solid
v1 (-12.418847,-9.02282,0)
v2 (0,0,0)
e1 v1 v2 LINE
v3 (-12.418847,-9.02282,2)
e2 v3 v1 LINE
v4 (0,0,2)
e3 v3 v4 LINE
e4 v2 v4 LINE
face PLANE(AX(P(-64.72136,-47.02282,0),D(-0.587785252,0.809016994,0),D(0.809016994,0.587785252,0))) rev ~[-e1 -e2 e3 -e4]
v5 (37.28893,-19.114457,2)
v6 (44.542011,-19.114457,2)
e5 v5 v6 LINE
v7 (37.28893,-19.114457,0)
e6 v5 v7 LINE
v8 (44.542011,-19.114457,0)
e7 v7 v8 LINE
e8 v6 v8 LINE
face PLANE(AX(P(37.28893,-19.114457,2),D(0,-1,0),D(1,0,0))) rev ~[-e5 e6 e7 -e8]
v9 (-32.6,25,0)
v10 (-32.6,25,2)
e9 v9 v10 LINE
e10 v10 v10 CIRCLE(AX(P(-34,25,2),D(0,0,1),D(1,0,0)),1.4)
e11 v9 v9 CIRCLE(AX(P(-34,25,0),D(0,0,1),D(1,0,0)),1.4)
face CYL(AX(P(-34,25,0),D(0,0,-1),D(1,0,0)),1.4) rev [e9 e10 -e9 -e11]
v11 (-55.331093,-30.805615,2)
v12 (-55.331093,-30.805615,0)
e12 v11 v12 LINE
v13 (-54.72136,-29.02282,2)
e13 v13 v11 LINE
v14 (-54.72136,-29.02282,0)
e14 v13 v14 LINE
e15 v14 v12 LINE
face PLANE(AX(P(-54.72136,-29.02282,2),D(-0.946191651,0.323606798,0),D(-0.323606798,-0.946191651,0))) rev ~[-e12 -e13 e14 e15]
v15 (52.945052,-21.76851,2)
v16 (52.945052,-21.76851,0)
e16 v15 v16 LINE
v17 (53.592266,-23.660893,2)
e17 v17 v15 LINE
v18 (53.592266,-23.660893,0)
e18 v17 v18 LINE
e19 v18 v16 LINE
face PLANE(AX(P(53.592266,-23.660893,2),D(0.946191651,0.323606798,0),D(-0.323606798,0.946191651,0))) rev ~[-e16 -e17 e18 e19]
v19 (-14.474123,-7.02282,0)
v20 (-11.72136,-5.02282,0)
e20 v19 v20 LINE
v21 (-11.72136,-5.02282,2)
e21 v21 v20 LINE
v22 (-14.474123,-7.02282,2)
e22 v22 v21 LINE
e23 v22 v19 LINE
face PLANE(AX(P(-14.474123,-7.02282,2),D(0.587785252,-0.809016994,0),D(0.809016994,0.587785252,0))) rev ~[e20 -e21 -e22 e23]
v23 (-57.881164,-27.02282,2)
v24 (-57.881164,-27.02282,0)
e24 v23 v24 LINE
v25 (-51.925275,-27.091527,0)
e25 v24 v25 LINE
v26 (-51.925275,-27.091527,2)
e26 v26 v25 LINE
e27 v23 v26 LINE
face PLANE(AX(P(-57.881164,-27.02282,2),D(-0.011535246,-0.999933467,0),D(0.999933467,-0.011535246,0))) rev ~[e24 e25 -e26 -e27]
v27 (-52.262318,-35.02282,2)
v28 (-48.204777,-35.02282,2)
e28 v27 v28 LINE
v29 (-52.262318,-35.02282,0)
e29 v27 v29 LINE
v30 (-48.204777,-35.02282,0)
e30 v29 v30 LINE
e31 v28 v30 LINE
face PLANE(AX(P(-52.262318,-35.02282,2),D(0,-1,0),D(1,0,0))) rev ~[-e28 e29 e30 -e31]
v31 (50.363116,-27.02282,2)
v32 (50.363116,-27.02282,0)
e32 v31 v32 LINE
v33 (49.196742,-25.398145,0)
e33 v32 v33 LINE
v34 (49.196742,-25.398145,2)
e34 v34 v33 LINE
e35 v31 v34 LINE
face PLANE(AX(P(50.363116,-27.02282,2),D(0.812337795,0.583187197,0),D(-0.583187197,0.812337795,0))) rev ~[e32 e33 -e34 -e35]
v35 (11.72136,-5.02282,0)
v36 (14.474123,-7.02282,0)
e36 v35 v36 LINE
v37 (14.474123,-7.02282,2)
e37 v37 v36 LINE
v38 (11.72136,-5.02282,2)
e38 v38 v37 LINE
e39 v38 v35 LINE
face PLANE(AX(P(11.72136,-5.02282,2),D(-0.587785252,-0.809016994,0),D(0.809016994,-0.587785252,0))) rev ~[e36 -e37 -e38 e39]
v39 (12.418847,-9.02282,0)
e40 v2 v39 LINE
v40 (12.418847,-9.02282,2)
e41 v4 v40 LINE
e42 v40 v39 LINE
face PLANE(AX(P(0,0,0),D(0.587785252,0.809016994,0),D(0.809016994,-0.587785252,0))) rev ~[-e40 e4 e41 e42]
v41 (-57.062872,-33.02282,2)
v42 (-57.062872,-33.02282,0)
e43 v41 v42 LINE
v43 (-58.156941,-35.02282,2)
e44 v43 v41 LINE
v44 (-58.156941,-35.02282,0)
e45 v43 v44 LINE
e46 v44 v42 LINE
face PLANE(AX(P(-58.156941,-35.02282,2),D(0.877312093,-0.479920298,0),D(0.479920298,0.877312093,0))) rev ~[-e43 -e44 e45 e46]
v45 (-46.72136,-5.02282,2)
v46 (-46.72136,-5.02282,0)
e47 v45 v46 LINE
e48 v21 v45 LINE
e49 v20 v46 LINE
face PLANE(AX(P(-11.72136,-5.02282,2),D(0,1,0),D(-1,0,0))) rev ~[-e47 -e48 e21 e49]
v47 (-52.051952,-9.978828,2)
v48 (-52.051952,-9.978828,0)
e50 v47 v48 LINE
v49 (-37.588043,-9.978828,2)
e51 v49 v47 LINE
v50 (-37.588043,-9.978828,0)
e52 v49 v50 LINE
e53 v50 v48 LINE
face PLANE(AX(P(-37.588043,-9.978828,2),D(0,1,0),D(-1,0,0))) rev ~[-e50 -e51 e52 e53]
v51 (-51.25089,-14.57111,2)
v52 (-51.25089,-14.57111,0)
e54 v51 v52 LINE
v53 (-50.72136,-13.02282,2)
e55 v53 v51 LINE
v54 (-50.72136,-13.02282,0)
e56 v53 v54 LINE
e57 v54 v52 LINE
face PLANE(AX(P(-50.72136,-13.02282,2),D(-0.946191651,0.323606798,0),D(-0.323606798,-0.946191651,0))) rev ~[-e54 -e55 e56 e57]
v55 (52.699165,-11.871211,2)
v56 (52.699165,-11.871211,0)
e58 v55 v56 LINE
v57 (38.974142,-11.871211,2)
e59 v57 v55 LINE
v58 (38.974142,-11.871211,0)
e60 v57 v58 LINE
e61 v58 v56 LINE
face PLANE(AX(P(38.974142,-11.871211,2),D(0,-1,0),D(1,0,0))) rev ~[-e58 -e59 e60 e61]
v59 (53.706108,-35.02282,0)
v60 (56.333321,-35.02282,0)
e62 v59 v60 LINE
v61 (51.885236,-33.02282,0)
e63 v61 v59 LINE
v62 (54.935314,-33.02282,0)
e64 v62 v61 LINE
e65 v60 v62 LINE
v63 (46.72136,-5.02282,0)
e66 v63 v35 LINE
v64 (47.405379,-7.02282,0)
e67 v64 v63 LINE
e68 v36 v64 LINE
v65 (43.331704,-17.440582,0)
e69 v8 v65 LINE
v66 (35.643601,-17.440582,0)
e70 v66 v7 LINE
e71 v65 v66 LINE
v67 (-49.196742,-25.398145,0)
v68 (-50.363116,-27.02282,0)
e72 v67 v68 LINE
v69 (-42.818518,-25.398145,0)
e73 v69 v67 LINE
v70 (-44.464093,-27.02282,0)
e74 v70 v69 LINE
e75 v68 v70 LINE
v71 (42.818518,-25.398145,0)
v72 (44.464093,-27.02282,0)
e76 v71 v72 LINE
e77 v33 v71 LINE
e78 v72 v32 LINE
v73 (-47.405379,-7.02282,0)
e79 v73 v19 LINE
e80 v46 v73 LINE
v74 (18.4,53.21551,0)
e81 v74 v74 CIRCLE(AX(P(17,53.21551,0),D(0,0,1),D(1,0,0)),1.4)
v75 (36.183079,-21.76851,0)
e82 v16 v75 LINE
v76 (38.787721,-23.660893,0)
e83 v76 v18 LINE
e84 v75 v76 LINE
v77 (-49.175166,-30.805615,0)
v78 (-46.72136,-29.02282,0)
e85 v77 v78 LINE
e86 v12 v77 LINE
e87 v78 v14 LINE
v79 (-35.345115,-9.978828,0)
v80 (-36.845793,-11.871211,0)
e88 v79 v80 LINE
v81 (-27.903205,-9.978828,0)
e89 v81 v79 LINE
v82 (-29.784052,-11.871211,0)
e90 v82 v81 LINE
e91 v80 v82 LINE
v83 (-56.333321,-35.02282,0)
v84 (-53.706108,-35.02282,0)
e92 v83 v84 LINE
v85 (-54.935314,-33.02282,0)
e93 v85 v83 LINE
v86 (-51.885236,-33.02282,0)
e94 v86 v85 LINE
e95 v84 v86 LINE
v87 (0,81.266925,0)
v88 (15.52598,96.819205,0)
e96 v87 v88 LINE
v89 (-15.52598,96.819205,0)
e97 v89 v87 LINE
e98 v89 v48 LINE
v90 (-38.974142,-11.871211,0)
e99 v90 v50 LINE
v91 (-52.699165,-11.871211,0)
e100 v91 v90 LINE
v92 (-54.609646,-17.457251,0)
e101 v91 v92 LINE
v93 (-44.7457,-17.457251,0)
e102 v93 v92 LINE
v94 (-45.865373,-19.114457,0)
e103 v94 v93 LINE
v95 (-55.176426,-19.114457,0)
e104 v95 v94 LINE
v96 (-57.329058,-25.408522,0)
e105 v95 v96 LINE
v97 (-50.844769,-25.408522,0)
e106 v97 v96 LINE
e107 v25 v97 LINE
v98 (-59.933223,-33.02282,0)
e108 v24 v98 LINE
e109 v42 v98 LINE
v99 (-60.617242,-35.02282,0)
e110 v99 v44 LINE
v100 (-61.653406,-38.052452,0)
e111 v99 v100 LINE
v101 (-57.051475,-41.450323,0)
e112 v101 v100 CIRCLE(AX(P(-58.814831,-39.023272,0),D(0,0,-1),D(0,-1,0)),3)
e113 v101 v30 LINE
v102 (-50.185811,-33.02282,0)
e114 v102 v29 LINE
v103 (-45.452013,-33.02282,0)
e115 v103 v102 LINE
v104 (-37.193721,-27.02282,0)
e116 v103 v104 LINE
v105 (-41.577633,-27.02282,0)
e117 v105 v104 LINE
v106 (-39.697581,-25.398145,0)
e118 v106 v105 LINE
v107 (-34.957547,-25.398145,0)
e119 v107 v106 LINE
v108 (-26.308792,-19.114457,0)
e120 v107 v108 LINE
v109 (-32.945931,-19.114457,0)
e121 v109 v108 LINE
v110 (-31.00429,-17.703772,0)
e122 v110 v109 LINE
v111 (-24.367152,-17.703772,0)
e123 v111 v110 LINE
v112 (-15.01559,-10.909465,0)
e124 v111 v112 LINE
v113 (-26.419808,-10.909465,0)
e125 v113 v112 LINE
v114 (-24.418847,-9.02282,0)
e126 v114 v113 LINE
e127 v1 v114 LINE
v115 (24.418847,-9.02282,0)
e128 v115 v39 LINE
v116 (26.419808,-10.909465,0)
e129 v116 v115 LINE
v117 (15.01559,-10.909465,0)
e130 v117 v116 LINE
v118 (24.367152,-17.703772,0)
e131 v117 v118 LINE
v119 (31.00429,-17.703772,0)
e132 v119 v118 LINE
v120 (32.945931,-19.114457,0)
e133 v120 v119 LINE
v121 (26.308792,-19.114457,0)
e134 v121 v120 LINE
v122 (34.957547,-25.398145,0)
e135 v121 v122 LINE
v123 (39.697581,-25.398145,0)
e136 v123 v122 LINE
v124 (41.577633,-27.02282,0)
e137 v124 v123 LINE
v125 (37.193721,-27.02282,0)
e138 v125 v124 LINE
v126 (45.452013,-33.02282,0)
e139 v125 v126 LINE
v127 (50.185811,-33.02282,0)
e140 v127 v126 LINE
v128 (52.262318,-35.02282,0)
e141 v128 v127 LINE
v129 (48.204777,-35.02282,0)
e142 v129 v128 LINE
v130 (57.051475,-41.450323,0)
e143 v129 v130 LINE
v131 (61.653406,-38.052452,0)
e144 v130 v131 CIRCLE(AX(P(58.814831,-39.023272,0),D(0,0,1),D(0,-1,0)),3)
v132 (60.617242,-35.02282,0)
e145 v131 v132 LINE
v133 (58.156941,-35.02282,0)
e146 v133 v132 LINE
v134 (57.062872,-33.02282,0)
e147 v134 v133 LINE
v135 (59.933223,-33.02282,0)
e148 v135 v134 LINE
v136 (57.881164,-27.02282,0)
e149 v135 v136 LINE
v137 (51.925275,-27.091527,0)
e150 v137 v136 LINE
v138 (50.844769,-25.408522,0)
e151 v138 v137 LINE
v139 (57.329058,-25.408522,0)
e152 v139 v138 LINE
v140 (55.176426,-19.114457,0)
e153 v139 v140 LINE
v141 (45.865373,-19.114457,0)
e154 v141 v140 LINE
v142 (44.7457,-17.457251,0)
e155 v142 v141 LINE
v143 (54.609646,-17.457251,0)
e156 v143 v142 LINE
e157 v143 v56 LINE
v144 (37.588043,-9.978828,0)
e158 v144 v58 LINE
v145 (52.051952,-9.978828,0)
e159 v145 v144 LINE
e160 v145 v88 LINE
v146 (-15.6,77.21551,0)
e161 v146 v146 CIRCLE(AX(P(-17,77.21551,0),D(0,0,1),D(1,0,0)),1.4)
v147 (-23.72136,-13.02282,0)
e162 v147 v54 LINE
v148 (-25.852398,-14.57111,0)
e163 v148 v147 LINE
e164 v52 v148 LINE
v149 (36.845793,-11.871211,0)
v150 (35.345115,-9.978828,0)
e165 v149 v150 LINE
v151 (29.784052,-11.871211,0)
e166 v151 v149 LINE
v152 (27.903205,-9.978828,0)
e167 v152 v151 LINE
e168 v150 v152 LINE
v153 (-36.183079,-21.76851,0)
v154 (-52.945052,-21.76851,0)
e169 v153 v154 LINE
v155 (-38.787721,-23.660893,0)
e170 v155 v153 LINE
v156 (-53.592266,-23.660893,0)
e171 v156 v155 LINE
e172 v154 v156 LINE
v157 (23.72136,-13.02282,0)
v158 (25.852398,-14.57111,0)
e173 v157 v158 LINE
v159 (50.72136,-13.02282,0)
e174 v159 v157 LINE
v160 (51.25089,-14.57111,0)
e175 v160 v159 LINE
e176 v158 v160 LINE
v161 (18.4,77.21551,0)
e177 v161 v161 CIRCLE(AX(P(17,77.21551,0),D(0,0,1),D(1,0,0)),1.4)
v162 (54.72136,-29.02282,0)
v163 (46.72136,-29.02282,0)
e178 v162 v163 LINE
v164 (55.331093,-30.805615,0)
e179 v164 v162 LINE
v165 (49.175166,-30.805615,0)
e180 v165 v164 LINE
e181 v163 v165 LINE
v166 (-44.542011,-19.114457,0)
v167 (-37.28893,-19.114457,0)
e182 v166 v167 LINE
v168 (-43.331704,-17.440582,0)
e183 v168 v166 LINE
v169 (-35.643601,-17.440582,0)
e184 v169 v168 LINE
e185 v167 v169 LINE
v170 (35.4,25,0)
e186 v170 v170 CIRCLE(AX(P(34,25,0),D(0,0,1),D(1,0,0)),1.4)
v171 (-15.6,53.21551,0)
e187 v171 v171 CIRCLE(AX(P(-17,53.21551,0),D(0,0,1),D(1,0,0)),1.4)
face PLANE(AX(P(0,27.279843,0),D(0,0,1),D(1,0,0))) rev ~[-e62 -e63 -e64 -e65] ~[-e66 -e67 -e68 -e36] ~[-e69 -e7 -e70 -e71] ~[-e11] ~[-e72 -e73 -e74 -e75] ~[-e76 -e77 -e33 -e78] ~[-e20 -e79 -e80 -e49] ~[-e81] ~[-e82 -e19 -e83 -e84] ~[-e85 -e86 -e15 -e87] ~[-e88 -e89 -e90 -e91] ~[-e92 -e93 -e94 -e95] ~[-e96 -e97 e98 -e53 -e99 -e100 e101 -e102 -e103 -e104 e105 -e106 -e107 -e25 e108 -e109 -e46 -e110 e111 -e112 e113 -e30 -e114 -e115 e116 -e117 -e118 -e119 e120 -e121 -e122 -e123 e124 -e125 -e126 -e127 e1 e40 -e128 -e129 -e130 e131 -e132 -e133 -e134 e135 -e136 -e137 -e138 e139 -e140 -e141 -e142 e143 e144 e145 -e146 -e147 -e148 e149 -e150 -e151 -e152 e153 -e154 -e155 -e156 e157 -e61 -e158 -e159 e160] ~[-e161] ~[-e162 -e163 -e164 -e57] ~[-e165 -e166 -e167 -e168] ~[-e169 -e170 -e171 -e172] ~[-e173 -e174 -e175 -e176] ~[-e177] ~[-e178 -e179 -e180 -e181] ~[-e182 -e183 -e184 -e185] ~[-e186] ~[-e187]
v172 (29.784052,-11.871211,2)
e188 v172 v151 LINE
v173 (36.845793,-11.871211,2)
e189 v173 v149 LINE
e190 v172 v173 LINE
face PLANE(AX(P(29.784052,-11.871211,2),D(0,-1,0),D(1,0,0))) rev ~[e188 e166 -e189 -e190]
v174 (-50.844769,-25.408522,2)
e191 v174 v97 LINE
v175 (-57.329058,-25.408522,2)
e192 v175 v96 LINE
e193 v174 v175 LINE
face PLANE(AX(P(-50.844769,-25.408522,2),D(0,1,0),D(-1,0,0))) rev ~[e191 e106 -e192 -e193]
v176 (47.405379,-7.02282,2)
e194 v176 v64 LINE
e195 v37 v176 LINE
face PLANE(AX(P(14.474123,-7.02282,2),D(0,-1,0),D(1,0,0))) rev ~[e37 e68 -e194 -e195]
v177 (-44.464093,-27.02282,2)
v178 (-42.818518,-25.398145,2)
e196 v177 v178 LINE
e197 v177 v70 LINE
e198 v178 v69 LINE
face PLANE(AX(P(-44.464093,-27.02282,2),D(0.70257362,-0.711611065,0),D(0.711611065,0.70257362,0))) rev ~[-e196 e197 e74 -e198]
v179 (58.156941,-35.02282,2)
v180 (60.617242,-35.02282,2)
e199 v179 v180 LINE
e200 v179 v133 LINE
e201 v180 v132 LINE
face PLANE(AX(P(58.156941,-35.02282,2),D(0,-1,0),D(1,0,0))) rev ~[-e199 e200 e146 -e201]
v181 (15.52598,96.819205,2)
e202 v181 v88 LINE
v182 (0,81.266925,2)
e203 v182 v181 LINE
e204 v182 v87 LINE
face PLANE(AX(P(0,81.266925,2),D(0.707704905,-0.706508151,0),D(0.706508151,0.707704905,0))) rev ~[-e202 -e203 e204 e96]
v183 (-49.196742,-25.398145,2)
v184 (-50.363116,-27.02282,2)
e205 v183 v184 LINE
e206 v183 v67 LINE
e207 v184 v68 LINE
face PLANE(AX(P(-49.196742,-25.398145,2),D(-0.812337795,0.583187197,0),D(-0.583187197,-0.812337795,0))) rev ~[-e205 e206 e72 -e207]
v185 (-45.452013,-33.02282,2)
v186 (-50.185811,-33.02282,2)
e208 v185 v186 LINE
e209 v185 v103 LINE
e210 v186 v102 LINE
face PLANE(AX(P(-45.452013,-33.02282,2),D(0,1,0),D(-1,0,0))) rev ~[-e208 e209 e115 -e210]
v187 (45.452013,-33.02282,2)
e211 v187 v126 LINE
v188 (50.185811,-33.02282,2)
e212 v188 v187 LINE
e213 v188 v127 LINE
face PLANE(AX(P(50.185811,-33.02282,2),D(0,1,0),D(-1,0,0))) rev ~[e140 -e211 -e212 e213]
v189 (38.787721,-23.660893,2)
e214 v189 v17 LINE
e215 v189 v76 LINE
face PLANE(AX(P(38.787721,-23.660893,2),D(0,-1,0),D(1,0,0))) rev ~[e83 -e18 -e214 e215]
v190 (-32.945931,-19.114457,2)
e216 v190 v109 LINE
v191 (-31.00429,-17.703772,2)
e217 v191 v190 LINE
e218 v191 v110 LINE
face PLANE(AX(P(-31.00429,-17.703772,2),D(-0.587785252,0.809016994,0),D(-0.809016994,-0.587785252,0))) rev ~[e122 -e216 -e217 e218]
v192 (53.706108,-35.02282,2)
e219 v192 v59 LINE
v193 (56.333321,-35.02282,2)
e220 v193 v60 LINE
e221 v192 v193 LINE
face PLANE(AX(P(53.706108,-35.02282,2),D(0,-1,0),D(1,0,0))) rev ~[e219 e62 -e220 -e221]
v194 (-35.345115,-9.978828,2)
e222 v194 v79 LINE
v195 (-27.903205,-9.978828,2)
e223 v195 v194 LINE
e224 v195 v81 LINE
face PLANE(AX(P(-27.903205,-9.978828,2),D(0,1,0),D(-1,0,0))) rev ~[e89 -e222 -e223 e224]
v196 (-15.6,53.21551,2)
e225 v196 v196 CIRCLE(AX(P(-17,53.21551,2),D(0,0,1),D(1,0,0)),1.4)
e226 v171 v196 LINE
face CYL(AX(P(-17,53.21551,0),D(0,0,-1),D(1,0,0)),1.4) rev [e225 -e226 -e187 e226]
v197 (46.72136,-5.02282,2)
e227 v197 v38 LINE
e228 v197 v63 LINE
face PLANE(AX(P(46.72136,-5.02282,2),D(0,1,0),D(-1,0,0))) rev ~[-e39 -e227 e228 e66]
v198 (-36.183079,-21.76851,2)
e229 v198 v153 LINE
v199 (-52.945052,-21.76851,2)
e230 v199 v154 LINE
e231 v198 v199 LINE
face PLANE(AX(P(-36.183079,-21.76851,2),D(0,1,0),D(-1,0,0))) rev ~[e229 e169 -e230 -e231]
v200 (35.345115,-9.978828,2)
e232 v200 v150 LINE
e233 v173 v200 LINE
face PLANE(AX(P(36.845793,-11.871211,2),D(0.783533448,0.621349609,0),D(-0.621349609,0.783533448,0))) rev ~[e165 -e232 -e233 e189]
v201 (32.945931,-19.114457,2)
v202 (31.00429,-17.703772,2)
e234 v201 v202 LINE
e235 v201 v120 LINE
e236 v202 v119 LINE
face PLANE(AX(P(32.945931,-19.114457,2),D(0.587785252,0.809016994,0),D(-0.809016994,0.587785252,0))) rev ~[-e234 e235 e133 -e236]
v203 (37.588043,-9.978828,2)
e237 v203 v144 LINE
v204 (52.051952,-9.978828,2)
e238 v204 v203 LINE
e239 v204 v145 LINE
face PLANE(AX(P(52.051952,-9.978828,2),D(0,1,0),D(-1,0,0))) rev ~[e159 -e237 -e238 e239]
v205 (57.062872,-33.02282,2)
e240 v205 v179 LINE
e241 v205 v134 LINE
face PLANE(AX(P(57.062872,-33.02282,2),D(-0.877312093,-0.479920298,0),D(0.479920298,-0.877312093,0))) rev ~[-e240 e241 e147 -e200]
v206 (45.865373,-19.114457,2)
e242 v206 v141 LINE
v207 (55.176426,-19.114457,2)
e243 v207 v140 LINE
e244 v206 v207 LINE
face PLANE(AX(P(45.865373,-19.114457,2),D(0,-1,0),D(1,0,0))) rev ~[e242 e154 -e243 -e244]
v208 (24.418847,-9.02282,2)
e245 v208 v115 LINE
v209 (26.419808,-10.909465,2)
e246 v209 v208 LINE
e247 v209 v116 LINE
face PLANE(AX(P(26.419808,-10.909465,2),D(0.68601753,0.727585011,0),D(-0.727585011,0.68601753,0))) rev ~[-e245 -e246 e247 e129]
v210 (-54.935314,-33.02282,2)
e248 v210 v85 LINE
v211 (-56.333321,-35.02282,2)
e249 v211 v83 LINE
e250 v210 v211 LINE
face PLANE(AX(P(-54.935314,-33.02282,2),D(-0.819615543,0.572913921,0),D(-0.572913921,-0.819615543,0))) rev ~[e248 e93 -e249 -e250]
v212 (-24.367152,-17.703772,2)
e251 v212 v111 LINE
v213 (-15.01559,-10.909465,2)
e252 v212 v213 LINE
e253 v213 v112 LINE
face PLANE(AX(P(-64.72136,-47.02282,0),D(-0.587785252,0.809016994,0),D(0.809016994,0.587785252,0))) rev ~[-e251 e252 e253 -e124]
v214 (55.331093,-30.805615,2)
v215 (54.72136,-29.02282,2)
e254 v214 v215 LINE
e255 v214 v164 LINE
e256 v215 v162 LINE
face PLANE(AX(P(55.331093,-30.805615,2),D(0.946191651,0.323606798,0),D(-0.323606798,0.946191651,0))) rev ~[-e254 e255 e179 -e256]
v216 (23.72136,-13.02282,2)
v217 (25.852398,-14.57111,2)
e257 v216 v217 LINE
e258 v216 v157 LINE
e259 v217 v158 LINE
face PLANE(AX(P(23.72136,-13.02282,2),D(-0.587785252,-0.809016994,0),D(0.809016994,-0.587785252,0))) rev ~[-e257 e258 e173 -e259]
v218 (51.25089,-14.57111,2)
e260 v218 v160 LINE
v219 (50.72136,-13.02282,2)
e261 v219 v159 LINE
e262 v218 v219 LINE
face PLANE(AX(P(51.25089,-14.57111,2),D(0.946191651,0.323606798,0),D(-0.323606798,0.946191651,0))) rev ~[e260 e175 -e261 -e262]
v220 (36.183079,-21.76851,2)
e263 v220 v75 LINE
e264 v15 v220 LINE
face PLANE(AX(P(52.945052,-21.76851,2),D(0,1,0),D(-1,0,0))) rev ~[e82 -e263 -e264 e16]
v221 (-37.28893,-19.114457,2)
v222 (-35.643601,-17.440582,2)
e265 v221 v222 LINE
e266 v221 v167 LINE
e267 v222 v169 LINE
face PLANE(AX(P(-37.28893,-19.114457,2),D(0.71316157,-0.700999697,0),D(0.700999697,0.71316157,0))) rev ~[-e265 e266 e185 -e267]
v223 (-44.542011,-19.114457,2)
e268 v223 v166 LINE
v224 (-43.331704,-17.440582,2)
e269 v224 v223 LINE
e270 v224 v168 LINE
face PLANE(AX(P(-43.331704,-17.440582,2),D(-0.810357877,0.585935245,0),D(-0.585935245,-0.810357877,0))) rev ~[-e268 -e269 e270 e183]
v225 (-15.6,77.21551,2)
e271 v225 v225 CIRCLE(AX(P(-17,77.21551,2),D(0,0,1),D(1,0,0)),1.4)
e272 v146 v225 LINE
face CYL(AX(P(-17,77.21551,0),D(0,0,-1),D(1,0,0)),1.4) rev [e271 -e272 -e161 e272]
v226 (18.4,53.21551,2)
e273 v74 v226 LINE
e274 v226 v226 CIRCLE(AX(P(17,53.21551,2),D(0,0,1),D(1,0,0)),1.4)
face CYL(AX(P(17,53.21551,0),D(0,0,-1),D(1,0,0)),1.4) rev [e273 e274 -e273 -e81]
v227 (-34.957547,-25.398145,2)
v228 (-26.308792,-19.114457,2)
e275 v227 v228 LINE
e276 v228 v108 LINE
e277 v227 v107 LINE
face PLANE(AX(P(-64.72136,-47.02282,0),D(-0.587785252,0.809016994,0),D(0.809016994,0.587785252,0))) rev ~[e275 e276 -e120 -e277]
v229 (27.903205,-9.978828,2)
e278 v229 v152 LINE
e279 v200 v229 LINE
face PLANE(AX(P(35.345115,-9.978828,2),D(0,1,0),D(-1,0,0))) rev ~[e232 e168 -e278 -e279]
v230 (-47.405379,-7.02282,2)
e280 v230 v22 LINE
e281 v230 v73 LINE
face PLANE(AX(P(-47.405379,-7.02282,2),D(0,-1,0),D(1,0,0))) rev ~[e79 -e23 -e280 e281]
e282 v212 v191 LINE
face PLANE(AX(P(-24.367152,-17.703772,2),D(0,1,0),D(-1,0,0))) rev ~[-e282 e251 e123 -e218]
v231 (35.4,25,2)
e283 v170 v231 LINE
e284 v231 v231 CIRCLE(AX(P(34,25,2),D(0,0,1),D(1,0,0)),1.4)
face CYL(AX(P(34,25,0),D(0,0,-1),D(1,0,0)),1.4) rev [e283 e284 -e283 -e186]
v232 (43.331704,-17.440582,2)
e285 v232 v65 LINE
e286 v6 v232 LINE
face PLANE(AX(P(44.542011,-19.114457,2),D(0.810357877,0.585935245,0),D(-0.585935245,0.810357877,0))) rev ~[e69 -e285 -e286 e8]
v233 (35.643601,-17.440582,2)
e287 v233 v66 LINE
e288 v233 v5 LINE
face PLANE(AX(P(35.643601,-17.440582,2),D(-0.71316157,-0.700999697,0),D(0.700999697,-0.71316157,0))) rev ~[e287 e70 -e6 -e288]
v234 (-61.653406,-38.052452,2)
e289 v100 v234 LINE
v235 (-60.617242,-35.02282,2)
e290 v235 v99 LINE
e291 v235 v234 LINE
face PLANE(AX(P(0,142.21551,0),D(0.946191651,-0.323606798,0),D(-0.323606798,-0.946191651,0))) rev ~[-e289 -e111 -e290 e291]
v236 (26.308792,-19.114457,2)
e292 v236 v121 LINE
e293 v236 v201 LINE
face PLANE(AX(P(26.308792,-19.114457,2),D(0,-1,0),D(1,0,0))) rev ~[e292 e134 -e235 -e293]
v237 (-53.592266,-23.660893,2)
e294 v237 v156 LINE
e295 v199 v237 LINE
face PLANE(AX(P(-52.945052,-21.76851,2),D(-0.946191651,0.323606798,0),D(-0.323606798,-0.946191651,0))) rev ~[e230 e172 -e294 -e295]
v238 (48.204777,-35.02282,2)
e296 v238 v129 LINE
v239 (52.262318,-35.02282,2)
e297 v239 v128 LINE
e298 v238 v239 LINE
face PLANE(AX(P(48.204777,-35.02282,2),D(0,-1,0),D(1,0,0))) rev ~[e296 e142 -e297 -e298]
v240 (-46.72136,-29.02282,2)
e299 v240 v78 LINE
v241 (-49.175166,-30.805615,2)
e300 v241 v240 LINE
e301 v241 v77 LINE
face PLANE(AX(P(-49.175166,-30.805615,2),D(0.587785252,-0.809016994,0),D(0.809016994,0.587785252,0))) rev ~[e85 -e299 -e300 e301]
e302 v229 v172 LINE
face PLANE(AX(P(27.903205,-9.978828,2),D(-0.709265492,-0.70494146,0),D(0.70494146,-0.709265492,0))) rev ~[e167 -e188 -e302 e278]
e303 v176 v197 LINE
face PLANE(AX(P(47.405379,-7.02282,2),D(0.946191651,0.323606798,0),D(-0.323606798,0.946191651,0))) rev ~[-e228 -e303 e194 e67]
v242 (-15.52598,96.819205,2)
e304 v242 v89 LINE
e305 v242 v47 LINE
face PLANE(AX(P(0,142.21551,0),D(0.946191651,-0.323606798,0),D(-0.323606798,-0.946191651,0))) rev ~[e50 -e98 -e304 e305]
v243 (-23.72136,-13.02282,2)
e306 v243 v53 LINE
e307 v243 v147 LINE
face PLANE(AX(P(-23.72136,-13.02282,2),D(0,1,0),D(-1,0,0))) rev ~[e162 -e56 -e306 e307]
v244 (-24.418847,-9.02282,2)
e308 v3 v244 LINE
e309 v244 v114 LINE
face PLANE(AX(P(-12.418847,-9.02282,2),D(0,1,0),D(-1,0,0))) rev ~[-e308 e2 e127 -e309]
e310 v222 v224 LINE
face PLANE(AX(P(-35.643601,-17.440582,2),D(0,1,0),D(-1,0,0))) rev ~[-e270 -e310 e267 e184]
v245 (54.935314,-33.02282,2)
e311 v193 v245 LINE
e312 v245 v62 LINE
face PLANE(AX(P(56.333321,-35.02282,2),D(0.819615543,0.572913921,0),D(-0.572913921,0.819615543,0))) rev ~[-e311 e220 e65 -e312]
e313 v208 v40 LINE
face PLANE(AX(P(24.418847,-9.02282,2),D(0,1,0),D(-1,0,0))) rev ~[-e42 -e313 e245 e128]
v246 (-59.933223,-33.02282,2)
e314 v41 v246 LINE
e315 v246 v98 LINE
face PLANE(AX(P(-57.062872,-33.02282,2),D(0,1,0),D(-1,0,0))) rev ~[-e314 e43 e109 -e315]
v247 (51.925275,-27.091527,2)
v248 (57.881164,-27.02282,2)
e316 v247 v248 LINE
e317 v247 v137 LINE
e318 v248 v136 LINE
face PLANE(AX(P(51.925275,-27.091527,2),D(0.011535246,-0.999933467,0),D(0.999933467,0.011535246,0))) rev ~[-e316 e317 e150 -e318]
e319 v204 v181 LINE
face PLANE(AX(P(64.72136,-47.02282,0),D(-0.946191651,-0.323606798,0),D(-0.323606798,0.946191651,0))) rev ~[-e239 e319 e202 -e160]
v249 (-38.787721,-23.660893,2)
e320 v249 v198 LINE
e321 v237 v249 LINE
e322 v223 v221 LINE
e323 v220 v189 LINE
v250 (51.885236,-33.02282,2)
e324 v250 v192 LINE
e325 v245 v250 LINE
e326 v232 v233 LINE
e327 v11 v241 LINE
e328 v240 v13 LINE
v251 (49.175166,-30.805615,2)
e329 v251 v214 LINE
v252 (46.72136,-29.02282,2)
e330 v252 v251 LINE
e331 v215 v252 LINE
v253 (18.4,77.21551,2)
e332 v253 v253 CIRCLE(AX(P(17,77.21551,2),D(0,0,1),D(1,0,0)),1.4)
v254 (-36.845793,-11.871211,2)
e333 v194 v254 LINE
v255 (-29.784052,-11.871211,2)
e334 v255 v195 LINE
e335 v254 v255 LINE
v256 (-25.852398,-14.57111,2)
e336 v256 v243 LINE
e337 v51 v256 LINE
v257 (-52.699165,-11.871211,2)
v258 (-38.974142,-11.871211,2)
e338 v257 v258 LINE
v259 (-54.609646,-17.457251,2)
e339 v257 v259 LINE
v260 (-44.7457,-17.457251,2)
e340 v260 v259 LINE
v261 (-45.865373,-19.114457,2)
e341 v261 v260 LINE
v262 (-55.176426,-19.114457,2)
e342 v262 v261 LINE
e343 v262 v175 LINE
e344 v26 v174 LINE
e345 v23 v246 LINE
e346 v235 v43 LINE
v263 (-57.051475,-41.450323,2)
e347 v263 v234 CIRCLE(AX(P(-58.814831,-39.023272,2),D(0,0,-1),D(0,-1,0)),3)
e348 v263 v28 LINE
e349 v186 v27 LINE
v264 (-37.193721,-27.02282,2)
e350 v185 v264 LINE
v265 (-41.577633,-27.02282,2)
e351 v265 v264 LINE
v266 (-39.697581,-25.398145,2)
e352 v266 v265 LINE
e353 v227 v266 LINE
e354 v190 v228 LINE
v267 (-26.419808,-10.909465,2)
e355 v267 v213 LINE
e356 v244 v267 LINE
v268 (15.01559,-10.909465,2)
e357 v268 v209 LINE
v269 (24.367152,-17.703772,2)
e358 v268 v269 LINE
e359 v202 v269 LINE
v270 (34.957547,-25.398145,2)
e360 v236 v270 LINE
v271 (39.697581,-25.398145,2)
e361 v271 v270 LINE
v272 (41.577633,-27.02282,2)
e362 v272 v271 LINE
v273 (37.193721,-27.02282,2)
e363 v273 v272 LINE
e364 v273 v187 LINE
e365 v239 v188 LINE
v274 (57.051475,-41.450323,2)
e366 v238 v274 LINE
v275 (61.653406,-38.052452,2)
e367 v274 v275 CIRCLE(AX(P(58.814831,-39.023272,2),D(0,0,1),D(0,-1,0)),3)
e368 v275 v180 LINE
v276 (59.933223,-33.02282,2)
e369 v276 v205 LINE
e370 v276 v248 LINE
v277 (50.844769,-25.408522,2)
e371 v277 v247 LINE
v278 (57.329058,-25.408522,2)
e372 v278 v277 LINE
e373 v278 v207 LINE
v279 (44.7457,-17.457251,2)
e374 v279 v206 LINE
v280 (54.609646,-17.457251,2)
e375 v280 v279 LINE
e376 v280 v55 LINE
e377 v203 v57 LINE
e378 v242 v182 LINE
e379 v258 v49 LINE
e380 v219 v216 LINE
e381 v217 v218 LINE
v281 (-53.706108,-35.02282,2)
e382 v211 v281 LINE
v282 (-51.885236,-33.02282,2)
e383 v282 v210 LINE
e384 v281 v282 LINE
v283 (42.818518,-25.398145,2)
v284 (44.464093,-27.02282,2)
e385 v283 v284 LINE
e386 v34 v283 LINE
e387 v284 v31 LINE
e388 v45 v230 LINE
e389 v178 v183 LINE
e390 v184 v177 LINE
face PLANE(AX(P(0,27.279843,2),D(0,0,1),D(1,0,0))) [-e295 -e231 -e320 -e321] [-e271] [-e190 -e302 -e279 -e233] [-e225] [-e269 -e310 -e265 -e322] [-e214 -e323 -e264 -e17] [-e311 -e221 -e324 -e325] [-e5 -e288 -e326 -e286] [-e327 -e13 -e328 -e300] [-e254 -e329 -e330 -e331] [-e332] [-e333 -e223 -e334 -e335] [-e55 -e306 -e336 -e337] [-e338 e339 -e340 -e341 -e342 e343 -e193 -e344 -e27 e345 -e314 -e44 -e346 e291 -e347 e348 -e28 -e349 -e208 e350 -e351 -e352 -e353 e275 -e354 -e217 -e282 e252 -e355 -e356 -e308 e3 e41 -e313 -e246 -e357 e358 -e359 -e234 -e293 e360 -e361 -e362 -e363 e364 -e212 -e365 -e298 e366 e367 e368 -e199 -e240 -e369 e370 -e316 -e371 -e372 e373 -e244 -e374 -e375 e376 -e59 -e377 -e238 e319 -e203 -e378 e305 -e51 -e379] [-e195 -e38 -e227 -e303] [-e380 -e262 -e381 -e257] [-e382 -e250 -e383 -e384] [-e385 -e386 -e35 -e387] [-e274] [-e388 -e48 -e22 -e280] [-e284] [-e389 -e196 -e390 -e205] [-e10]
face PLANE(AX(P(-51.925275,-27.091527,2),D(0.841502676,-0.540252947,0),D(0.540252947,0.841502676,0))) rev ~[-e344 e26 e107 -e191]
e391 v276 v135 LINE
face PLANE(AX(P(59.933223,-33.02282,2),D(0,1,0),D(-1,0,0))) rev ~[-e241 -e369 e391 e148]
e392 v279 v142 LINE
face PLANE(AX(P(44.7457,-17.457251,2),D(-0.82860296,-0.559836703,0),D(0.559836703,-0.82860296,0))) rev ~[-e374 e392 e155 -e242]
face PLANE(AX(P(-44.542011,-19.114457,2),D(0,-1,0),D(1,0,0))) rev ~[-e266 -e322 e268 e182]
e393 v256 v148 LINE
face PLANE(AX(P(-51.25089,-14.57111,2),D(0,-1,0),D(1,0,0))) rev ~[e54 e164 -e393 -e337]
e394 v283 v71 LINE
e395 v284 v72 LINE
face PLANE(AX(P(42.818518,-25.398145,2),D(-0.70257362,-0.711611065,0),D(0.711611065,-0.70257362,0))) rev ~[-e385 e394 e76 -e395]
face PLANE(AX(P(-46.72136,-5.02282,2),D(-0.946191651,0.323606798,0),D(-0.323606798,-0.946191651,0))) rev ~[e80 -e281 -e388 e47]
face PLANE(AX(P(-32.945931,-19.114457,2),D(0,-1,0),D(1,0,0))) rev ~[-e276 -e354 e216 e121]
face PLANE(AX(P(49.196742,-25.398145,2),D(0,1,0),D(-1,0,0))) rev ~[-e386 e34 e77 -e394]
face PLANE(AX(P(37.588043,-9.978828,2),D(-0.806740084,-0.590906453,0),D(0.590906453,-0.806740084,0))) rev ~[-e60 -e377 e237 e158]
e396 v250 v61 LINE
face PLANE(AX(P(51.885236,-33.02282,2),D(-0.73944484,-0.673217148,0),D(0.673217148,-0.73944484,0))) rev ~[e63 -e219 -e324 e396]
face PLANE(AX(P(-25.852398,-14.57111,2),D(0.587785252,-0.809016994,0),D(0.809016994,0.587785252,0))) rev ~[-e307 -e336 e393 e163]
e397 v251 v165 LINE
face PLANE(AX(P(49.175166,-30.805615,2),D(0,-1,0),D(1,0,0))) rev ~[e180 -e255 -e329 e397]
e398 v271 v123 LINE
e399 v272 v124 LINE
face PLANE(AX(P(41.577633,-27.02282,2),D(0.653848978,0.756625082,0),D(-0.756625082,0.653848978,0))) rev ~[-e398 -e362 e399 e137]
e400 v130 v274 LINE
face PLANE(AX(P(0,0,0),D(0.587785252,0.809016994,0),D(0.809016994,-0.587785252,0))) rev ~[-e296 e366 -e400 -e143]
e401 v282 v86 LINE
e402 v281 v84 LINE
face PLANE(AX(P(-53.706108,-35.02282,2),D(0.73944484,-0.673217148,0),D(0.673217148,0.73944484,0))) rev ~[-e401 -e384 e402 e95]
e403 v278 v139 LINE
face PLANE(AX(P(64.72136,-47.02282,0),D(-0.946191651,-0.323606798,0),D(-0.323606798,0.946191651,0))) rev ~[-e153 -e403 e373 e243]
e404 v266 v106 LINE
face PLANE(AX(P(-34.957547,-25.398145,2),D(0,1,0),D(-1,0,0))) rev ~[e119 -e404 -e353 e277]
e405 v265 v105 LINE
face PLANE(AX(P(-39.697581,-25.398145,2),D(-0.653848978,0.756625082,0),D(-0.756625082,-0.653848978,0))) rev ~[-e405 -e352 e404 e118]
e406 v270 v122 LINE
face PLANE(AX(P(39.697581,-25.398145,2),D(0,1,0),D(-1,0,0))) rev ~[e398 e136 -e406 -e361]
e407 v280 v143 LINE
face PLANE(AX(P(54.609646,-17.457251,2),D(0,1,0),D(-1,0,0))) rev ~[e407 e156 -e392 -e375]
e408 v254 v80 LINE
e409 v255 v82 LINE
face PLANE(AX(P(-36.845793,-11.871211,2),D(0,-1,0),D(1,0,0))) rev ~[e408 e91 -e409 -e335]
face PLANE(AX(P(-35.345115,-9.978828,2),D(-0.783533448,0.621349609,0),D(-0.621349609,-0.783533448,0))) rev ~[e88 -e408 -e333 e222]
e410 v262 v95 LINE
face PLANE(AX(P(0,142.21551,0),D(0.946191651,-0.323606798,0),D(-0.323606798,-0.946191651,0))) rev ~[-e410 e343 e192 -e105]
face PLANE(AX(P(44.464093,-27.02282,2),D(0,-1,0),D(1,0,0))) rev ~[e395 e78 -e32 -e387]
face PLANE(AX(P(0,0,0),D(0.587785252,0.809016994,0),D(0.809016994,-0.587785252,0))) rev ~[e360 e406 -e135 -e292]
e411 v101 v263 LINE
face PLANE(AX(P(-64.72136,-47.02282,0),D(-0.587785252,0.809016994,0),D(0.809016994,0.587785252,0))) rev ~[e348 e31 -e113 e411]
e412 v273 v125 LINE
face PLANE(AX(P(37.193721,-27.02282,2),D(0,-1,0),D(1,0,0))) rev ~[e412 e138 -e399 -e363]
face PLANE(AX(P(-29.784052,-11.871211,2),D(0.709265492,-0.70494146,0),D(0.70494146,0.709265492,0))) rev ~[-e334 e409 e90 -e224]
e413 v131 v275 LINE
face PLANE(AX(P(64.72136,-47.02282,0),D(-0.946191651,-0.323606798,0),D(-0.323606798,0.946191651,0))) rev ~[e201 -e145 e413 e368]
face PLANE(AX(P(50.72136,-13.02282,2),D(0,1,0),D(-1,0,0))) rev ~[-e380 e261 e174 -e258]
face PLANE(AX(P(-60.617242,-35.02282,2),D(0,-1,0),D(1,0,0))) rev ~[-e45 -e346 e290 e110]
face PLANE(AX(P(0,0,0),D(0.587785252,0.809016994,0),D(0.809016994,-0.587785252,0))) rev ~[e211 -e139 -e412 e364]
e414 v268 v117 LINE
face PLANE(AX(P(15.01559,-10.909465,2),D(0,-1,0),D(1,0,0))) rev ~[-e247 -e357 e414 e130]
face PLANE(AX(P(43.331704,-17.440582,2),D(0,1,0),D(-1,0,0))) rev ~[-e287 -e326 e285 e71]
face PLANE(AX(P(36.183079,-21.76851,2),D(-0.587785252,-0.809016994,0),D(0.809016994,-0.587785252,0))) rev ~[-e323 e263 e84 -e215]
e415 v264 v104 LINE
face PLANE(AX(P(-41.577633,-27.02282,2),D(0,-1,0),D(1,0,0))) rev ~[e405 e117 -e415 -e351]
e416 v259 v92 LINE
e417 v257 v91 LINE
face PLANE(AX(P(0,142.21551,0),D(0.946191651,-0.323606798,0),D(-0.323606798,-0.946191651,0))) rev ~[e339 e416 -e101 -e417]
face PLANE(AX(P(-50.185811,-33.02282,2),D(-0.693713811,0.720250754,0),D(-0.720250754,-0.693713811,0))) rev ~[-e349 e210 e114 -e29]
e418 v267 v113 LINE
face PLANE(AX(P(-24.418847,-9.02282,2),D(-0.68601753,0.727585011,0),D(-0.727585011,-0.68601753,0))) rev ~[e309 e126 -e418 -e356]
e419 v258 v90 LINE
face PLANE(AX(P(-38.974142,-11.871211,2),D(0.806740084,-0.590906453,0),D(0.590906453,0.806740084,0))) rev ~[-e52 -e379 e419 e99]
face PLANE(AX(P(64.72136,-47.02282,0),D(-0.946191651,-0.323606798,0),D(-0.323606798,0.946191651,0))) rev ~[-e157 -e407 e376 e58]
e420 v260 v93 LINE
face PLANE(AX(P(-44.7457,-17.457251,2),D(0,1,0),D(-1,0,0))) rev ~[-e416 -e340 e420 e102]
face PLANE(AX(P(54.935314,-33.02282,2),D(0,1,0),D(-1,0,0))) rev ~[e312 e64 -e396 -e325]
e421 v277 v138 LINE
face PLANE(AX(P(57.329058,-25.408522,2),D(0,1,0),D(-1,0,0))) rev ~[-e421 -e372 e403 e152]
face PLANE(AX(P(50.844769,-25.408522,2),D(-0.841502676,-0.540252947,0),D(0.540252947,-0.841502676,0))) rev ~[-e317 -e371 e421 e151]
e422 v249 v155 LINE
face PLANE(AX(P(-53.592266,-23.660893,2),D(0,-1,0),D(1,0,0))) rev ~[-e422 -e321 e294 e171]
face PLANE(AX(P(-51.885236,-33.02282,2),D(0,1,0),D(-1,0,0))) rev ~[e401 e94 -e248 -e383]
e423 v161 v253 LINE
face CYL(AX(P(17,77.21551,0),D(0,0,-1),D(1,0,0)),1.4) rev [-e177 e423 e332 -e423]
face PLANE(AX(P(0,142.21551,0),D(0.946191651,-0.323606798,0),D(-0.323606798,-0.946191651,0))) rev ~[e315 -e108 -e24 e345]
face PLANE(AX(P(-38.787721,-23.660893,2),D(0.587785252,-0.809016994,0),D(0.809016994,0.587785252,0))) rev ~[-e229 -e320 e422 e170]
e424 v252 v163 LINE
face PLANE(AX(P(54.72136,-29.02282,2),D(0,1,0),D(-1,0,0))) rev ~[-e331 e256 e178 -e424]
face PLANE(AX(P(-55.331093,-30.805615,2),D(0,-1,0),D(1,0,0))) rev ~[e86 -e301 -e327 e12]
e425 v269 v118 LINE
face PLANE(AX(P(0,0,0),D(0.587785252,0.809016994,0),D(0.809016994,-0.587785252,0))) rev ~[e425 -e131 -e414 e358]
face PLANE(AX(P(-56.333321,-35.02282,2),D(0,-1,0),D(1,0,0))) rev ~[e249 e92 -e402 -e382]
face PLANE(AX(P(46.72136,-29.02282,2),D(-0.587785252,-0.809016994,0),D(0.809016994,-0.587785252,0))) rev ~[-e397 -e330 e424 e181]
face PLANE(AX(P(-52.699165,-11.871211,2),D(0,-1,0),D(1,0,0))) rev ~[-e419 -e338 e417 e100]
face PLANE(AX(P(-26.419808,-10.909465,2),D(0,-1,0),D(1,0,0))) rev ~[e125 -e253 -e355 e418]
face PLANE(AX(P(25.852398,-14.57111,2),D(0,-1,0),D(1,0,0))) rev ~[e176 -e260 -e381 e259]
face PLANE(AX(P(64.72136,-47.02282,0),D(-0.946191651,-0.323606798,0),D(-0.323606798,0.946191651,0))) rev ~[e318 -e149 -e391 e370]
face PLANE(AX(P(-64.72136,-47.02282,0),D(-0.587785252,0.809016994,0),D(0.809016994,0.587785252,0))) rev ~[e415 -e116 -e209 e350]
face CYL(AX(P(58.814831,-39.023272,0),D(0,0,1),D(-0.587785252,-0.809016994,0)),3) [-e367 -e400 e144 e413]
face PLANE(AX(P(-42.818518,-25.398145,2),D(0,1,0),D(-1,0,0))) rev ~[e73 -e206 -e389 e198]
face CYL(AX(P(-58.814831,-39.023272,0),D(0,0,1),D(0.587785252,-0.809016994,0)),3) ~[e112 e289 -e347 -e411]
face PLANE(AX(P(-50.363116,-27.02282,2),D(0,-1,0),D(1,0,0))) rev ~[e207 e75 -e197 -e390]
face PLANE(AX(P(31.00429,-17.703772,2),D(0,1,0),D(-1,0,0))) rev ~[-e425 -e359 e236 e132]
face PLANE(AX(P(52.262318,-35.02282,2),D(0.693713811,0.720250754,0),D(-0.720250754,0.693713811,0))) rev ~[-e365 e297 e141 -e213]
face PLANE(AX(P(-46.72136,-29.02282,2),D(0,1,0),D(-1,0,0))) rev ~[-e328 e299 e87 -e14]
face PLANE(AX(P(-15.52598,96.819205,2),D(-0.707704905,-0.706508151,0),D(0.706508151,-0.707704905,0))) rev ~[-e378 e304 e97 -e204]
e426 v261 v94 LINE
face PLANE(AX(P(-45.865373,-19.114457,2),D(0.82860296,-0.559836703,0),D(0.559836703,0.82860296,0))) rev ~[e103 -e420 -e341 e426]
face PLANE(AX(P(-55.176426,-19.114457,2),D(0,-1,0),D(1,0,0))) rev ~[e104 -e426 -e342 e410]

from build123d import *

# Parameters (mm, degrees)
F0_R     = 1.4
F1_DEPTH = 2
F3_DEPTH = 2.001
F4_R     = 3
F5_R     = 3
F7_DEPTH = 2.001


with BuildPart() as f1:
    # F0 (on Top) → F1 (new body)
    with BuildSketch(Plane.XY):
        Polygon((64.72135955, -47.0228201834), (0, 142.2155100196), (-64.72135955, -47.0228201834), (0, 0), align=None)
        with Locations((-34, 25)):
            Circle(F0_R, mode=Mode.SUBTRACT)
        with Locations((34, 25)):
            Circle(F0_R, mode=Mode.SUBTRACT)
        with Locations((-17, 53.2155100196)):
            Circle(F0_R, mode=Mode.SUBTRACT)
        with Locations((-17, 77.2155100196)):
            Circle(F0_R, mode=Mode.SUBTRACT)
        with Locations((17, 53.2155100196)):
            Circle(F0_R, mode=Mode.SUBTRACT)
        with Locations((17, 77.2155100196)):
            Circle(F0_R, mode=Mode.SUBTRACT)
    extrude(amount=F1_DEPTH)

    # F2 (on face) → F3 (cut, through all)
    with BuildSketch(Plane.XY.offset(2)):
        Polygon((-11.72135955, -5.0228201834), (-46.72135955, -5.0228201834), (-47.4053791086, -7.0228201834), (-14.4741233909, -7.0228201834), align=None)
        Polygon((-12.4188465721, -9.0228201834), (-24.4188465721, -9.0228201834), (-26.4198078873, -10.9094650687), (-15.0155904826, -10.9094650687), align=None)
        Polygon((-23.72135955, -13.0228201834), (-50.72135955, -13.0228201834), (-51.2508899541, -14.5711104259), (-25.8523982474, -14.5711104259), align=None)
        Polygon((-54.6096456252, -17.4572506108), (-55.1764262564, -19.1144565314), (-45.8653729736, -19.1144565314), (-44.7456995673, -17.4572506108), align=None)
        Polygon((-36.183078901, -21.7685099146), (-52.9450522033, -21.7685099146), (-53.5922657988, -23.6608932166), (-38.7877210645, -23.6608932166), align=None)
        Polygon((-57.329058215, -25.4085220489), (-57.8811639638, -27.0228201834), (-51.9252746689, -27.0915274002), (-50.8447687747, -25.4085220489), align=None)
        Polygon((-42.8185183528, -25.398144593), (-49.1967415728, -25.398144593), (-50.3631159663, -27.0228201834), (-44.4640927017, -27.0228201834), align=None)
        Polygon((-34.9575470313, -25.398144593), (-39.6975811287, -25.398144593), (-41.5776334703, -27.0228201834), (-37.1937211406, -27.0228201834), align=None)
        Polygon((-46.72135955, -29.0228201834), (-54.72135955, -29.0228201834), (-55.3310927131, -30.8056147116), (-49.1751657065, -30.8056147116), align=None)
        Polygon((-59.9332226396, -33.0228201834), (-60.6172421983, -35.0228201834), (-58.1569412289, -35.0228201834), (-57.0628715088, -33.0228201834), align=None)
        Polygon((-52.0519517882, -9.9788275021), (-52.6991653837, -11.8712108041), (-38.9741415612, -11.8712108041), (-37.5880427095, -9.9788275021), align=None)
        Polygon((-32.9459308027, -19.1144565314), (-26.3087923894, -19.1144565314), (-24.3671516029, -17.7037719259), (-31.0042900162, -17.7037719259), align=None)
        Polygon((-35.6436006209, -17.440581688), (-43.3317036365, -17.440581688), (-44.5420111982, -19.1144565314), (-37.288930104, -19.1144565314), align=None)
        Polygon((-51.8852360547, -33.0228201834), (-54.9353141808, -33.0228201834), (-56.3333206621, -35.0228201834), (-53.706107908, -35.0228201834), align=None)
        Polygon((-45.4520126634, -33.0228201834), (-50.1858113088, -33.0228201834), (-52.2623182004, -35.0228201834), (-48.2047765043, -35.0228201834), align=None)
        Polygon((-27.9032053004, -9.9788275021), (-35.3451147676, -9.9788275021), (-36.8457930443, -11.8712108041), (-29.7840517014, -11.8712108041), align=None)
        Polygon((24.3671516029, -17.7037719259), (26.3087923894, -19.1144565314), (32.9459308027, -19.1144565314), (31.0042900162, -17.7037719259), align=None)
        Polygon((46.72135955, -29.0228201834), (49.1751657065, -30.8056147116), (55.3310927131, -30.8056147116), (54.72135955, -29.0228201834), align=None)
        Polygon((54.6096456252, -17.4572506108), (44.7456995673, -17.4572506108), (45.8653729736, -19.1144565314), (55.1764262564, -19.1144565314), align=None)
        Polygon((53.5922657988, -23.6608932166), (52.9450522033, -21.7685099146), (36.183078901, -21.7685099146), (38.7877210645, -23.6608932166), align=None)
        Polygon((51.9252746689, -27.0915274002), (57.8811639638, -27.0228201834), (57.329058215, -25.4085220489), (50.8447687747, -25.4085220489), align=None)
        Polygon((51.8852360547, -33.0228201834), (53.706107908, -35.0228201834), (56.3333206621, -35.0228201834), (54.9353141808, -33.0228201834), align=None)
        Polygon((34.9575470313, -25.398144593), (37.1937211406, -27.0228201834), (41.5776334703, -27.0228201834), (39.6975811287, -25.398144593), align=None)
        Polygon((50.1858113088, -33.0228201834), (45.4520126634, -33.0228201834), (48.2047765043, -35.0228201834), (52.2623182004, -35.0228201834), align=None)
        Polygon((26.4198078873, -10.9094650687), (24.4188465721, -9.0228201834), (12.4188465721, -9.0228201834), (15.0155904826, -10.9094650687), align=None)
        Polygon((44.4640927017, -27.0228201834), (50.3631159663, -27.0228201834), (49.1967415728, -25.398144593), (42.8185183528, -25.398144593), align=None)
        Polygon((36.8457930443, -11.8712108041), (35.3451147676, -9.9788275021), (27.9032053004, -9.9788275021), (29.7840517014, -11.8712108041), align=None)
        Polygon((52.0519517882, -9.9788275021), (37.5880427095, -9.9788275021), (38.9741415612, -11.8712108041), (52.6991653837, -11.8712108041), align=None)
        Polygon((43.3317036365, -17.440581688), (35.6436006209, -17.440581688), (37.288930104, -19.1144565314), (44.5420111982, -19.1144565314), align=None)
        Polygon((47.4053791086, -7.0228201834), (46.72135955, -5.0228201834), (11.72135955, -5.0228201834), (14.4741233909, -7.0228201834), align=None)
        Polygon((51.2508899541, -14.5711104259), (50.72135955, -13.0228201834), (23.72135955, -13.0228201834), (25.8523982474, -14.5711104259), align=None)
        Polygon((60.6172421983, -35.0228201834), (59.9332226396, -33.0228201834), (57.0628715088, -33.0228201834), (58.1569412289, -35.0228201834), align=None)
    extrude(amount=-F3_DEPTH, mode=Mode.SUBTRACT)

    # F4
    f4_edges = [f1.edges().sort_by_distance(p)[0] for p in [
        (-64.72136, -47.02282, 1),
    ]]
    fillet(f4_edges, radius=F4_R)

    # F5
    f5_edges = [f1.edges().sort_by_distance(p)[0] for p in [
        (64.72136, -47.02282, 1),
    ]]
    fillet(f5_edges, radius=F5_R)

    # F6 (on face) → F7 (cut, through all)
    with BuildSketch(Plane.XY.offset(2)):
        Polygon((-15.5259804046, 96.8192045811), (0, 81.2669247389), (15.5259804046, 96.8192045811), (0, 142.2155100196), align=None)
    extrude(amount=-F7_DEPTH, mode=Mode.SUBTRACT)


solid = f1.part
